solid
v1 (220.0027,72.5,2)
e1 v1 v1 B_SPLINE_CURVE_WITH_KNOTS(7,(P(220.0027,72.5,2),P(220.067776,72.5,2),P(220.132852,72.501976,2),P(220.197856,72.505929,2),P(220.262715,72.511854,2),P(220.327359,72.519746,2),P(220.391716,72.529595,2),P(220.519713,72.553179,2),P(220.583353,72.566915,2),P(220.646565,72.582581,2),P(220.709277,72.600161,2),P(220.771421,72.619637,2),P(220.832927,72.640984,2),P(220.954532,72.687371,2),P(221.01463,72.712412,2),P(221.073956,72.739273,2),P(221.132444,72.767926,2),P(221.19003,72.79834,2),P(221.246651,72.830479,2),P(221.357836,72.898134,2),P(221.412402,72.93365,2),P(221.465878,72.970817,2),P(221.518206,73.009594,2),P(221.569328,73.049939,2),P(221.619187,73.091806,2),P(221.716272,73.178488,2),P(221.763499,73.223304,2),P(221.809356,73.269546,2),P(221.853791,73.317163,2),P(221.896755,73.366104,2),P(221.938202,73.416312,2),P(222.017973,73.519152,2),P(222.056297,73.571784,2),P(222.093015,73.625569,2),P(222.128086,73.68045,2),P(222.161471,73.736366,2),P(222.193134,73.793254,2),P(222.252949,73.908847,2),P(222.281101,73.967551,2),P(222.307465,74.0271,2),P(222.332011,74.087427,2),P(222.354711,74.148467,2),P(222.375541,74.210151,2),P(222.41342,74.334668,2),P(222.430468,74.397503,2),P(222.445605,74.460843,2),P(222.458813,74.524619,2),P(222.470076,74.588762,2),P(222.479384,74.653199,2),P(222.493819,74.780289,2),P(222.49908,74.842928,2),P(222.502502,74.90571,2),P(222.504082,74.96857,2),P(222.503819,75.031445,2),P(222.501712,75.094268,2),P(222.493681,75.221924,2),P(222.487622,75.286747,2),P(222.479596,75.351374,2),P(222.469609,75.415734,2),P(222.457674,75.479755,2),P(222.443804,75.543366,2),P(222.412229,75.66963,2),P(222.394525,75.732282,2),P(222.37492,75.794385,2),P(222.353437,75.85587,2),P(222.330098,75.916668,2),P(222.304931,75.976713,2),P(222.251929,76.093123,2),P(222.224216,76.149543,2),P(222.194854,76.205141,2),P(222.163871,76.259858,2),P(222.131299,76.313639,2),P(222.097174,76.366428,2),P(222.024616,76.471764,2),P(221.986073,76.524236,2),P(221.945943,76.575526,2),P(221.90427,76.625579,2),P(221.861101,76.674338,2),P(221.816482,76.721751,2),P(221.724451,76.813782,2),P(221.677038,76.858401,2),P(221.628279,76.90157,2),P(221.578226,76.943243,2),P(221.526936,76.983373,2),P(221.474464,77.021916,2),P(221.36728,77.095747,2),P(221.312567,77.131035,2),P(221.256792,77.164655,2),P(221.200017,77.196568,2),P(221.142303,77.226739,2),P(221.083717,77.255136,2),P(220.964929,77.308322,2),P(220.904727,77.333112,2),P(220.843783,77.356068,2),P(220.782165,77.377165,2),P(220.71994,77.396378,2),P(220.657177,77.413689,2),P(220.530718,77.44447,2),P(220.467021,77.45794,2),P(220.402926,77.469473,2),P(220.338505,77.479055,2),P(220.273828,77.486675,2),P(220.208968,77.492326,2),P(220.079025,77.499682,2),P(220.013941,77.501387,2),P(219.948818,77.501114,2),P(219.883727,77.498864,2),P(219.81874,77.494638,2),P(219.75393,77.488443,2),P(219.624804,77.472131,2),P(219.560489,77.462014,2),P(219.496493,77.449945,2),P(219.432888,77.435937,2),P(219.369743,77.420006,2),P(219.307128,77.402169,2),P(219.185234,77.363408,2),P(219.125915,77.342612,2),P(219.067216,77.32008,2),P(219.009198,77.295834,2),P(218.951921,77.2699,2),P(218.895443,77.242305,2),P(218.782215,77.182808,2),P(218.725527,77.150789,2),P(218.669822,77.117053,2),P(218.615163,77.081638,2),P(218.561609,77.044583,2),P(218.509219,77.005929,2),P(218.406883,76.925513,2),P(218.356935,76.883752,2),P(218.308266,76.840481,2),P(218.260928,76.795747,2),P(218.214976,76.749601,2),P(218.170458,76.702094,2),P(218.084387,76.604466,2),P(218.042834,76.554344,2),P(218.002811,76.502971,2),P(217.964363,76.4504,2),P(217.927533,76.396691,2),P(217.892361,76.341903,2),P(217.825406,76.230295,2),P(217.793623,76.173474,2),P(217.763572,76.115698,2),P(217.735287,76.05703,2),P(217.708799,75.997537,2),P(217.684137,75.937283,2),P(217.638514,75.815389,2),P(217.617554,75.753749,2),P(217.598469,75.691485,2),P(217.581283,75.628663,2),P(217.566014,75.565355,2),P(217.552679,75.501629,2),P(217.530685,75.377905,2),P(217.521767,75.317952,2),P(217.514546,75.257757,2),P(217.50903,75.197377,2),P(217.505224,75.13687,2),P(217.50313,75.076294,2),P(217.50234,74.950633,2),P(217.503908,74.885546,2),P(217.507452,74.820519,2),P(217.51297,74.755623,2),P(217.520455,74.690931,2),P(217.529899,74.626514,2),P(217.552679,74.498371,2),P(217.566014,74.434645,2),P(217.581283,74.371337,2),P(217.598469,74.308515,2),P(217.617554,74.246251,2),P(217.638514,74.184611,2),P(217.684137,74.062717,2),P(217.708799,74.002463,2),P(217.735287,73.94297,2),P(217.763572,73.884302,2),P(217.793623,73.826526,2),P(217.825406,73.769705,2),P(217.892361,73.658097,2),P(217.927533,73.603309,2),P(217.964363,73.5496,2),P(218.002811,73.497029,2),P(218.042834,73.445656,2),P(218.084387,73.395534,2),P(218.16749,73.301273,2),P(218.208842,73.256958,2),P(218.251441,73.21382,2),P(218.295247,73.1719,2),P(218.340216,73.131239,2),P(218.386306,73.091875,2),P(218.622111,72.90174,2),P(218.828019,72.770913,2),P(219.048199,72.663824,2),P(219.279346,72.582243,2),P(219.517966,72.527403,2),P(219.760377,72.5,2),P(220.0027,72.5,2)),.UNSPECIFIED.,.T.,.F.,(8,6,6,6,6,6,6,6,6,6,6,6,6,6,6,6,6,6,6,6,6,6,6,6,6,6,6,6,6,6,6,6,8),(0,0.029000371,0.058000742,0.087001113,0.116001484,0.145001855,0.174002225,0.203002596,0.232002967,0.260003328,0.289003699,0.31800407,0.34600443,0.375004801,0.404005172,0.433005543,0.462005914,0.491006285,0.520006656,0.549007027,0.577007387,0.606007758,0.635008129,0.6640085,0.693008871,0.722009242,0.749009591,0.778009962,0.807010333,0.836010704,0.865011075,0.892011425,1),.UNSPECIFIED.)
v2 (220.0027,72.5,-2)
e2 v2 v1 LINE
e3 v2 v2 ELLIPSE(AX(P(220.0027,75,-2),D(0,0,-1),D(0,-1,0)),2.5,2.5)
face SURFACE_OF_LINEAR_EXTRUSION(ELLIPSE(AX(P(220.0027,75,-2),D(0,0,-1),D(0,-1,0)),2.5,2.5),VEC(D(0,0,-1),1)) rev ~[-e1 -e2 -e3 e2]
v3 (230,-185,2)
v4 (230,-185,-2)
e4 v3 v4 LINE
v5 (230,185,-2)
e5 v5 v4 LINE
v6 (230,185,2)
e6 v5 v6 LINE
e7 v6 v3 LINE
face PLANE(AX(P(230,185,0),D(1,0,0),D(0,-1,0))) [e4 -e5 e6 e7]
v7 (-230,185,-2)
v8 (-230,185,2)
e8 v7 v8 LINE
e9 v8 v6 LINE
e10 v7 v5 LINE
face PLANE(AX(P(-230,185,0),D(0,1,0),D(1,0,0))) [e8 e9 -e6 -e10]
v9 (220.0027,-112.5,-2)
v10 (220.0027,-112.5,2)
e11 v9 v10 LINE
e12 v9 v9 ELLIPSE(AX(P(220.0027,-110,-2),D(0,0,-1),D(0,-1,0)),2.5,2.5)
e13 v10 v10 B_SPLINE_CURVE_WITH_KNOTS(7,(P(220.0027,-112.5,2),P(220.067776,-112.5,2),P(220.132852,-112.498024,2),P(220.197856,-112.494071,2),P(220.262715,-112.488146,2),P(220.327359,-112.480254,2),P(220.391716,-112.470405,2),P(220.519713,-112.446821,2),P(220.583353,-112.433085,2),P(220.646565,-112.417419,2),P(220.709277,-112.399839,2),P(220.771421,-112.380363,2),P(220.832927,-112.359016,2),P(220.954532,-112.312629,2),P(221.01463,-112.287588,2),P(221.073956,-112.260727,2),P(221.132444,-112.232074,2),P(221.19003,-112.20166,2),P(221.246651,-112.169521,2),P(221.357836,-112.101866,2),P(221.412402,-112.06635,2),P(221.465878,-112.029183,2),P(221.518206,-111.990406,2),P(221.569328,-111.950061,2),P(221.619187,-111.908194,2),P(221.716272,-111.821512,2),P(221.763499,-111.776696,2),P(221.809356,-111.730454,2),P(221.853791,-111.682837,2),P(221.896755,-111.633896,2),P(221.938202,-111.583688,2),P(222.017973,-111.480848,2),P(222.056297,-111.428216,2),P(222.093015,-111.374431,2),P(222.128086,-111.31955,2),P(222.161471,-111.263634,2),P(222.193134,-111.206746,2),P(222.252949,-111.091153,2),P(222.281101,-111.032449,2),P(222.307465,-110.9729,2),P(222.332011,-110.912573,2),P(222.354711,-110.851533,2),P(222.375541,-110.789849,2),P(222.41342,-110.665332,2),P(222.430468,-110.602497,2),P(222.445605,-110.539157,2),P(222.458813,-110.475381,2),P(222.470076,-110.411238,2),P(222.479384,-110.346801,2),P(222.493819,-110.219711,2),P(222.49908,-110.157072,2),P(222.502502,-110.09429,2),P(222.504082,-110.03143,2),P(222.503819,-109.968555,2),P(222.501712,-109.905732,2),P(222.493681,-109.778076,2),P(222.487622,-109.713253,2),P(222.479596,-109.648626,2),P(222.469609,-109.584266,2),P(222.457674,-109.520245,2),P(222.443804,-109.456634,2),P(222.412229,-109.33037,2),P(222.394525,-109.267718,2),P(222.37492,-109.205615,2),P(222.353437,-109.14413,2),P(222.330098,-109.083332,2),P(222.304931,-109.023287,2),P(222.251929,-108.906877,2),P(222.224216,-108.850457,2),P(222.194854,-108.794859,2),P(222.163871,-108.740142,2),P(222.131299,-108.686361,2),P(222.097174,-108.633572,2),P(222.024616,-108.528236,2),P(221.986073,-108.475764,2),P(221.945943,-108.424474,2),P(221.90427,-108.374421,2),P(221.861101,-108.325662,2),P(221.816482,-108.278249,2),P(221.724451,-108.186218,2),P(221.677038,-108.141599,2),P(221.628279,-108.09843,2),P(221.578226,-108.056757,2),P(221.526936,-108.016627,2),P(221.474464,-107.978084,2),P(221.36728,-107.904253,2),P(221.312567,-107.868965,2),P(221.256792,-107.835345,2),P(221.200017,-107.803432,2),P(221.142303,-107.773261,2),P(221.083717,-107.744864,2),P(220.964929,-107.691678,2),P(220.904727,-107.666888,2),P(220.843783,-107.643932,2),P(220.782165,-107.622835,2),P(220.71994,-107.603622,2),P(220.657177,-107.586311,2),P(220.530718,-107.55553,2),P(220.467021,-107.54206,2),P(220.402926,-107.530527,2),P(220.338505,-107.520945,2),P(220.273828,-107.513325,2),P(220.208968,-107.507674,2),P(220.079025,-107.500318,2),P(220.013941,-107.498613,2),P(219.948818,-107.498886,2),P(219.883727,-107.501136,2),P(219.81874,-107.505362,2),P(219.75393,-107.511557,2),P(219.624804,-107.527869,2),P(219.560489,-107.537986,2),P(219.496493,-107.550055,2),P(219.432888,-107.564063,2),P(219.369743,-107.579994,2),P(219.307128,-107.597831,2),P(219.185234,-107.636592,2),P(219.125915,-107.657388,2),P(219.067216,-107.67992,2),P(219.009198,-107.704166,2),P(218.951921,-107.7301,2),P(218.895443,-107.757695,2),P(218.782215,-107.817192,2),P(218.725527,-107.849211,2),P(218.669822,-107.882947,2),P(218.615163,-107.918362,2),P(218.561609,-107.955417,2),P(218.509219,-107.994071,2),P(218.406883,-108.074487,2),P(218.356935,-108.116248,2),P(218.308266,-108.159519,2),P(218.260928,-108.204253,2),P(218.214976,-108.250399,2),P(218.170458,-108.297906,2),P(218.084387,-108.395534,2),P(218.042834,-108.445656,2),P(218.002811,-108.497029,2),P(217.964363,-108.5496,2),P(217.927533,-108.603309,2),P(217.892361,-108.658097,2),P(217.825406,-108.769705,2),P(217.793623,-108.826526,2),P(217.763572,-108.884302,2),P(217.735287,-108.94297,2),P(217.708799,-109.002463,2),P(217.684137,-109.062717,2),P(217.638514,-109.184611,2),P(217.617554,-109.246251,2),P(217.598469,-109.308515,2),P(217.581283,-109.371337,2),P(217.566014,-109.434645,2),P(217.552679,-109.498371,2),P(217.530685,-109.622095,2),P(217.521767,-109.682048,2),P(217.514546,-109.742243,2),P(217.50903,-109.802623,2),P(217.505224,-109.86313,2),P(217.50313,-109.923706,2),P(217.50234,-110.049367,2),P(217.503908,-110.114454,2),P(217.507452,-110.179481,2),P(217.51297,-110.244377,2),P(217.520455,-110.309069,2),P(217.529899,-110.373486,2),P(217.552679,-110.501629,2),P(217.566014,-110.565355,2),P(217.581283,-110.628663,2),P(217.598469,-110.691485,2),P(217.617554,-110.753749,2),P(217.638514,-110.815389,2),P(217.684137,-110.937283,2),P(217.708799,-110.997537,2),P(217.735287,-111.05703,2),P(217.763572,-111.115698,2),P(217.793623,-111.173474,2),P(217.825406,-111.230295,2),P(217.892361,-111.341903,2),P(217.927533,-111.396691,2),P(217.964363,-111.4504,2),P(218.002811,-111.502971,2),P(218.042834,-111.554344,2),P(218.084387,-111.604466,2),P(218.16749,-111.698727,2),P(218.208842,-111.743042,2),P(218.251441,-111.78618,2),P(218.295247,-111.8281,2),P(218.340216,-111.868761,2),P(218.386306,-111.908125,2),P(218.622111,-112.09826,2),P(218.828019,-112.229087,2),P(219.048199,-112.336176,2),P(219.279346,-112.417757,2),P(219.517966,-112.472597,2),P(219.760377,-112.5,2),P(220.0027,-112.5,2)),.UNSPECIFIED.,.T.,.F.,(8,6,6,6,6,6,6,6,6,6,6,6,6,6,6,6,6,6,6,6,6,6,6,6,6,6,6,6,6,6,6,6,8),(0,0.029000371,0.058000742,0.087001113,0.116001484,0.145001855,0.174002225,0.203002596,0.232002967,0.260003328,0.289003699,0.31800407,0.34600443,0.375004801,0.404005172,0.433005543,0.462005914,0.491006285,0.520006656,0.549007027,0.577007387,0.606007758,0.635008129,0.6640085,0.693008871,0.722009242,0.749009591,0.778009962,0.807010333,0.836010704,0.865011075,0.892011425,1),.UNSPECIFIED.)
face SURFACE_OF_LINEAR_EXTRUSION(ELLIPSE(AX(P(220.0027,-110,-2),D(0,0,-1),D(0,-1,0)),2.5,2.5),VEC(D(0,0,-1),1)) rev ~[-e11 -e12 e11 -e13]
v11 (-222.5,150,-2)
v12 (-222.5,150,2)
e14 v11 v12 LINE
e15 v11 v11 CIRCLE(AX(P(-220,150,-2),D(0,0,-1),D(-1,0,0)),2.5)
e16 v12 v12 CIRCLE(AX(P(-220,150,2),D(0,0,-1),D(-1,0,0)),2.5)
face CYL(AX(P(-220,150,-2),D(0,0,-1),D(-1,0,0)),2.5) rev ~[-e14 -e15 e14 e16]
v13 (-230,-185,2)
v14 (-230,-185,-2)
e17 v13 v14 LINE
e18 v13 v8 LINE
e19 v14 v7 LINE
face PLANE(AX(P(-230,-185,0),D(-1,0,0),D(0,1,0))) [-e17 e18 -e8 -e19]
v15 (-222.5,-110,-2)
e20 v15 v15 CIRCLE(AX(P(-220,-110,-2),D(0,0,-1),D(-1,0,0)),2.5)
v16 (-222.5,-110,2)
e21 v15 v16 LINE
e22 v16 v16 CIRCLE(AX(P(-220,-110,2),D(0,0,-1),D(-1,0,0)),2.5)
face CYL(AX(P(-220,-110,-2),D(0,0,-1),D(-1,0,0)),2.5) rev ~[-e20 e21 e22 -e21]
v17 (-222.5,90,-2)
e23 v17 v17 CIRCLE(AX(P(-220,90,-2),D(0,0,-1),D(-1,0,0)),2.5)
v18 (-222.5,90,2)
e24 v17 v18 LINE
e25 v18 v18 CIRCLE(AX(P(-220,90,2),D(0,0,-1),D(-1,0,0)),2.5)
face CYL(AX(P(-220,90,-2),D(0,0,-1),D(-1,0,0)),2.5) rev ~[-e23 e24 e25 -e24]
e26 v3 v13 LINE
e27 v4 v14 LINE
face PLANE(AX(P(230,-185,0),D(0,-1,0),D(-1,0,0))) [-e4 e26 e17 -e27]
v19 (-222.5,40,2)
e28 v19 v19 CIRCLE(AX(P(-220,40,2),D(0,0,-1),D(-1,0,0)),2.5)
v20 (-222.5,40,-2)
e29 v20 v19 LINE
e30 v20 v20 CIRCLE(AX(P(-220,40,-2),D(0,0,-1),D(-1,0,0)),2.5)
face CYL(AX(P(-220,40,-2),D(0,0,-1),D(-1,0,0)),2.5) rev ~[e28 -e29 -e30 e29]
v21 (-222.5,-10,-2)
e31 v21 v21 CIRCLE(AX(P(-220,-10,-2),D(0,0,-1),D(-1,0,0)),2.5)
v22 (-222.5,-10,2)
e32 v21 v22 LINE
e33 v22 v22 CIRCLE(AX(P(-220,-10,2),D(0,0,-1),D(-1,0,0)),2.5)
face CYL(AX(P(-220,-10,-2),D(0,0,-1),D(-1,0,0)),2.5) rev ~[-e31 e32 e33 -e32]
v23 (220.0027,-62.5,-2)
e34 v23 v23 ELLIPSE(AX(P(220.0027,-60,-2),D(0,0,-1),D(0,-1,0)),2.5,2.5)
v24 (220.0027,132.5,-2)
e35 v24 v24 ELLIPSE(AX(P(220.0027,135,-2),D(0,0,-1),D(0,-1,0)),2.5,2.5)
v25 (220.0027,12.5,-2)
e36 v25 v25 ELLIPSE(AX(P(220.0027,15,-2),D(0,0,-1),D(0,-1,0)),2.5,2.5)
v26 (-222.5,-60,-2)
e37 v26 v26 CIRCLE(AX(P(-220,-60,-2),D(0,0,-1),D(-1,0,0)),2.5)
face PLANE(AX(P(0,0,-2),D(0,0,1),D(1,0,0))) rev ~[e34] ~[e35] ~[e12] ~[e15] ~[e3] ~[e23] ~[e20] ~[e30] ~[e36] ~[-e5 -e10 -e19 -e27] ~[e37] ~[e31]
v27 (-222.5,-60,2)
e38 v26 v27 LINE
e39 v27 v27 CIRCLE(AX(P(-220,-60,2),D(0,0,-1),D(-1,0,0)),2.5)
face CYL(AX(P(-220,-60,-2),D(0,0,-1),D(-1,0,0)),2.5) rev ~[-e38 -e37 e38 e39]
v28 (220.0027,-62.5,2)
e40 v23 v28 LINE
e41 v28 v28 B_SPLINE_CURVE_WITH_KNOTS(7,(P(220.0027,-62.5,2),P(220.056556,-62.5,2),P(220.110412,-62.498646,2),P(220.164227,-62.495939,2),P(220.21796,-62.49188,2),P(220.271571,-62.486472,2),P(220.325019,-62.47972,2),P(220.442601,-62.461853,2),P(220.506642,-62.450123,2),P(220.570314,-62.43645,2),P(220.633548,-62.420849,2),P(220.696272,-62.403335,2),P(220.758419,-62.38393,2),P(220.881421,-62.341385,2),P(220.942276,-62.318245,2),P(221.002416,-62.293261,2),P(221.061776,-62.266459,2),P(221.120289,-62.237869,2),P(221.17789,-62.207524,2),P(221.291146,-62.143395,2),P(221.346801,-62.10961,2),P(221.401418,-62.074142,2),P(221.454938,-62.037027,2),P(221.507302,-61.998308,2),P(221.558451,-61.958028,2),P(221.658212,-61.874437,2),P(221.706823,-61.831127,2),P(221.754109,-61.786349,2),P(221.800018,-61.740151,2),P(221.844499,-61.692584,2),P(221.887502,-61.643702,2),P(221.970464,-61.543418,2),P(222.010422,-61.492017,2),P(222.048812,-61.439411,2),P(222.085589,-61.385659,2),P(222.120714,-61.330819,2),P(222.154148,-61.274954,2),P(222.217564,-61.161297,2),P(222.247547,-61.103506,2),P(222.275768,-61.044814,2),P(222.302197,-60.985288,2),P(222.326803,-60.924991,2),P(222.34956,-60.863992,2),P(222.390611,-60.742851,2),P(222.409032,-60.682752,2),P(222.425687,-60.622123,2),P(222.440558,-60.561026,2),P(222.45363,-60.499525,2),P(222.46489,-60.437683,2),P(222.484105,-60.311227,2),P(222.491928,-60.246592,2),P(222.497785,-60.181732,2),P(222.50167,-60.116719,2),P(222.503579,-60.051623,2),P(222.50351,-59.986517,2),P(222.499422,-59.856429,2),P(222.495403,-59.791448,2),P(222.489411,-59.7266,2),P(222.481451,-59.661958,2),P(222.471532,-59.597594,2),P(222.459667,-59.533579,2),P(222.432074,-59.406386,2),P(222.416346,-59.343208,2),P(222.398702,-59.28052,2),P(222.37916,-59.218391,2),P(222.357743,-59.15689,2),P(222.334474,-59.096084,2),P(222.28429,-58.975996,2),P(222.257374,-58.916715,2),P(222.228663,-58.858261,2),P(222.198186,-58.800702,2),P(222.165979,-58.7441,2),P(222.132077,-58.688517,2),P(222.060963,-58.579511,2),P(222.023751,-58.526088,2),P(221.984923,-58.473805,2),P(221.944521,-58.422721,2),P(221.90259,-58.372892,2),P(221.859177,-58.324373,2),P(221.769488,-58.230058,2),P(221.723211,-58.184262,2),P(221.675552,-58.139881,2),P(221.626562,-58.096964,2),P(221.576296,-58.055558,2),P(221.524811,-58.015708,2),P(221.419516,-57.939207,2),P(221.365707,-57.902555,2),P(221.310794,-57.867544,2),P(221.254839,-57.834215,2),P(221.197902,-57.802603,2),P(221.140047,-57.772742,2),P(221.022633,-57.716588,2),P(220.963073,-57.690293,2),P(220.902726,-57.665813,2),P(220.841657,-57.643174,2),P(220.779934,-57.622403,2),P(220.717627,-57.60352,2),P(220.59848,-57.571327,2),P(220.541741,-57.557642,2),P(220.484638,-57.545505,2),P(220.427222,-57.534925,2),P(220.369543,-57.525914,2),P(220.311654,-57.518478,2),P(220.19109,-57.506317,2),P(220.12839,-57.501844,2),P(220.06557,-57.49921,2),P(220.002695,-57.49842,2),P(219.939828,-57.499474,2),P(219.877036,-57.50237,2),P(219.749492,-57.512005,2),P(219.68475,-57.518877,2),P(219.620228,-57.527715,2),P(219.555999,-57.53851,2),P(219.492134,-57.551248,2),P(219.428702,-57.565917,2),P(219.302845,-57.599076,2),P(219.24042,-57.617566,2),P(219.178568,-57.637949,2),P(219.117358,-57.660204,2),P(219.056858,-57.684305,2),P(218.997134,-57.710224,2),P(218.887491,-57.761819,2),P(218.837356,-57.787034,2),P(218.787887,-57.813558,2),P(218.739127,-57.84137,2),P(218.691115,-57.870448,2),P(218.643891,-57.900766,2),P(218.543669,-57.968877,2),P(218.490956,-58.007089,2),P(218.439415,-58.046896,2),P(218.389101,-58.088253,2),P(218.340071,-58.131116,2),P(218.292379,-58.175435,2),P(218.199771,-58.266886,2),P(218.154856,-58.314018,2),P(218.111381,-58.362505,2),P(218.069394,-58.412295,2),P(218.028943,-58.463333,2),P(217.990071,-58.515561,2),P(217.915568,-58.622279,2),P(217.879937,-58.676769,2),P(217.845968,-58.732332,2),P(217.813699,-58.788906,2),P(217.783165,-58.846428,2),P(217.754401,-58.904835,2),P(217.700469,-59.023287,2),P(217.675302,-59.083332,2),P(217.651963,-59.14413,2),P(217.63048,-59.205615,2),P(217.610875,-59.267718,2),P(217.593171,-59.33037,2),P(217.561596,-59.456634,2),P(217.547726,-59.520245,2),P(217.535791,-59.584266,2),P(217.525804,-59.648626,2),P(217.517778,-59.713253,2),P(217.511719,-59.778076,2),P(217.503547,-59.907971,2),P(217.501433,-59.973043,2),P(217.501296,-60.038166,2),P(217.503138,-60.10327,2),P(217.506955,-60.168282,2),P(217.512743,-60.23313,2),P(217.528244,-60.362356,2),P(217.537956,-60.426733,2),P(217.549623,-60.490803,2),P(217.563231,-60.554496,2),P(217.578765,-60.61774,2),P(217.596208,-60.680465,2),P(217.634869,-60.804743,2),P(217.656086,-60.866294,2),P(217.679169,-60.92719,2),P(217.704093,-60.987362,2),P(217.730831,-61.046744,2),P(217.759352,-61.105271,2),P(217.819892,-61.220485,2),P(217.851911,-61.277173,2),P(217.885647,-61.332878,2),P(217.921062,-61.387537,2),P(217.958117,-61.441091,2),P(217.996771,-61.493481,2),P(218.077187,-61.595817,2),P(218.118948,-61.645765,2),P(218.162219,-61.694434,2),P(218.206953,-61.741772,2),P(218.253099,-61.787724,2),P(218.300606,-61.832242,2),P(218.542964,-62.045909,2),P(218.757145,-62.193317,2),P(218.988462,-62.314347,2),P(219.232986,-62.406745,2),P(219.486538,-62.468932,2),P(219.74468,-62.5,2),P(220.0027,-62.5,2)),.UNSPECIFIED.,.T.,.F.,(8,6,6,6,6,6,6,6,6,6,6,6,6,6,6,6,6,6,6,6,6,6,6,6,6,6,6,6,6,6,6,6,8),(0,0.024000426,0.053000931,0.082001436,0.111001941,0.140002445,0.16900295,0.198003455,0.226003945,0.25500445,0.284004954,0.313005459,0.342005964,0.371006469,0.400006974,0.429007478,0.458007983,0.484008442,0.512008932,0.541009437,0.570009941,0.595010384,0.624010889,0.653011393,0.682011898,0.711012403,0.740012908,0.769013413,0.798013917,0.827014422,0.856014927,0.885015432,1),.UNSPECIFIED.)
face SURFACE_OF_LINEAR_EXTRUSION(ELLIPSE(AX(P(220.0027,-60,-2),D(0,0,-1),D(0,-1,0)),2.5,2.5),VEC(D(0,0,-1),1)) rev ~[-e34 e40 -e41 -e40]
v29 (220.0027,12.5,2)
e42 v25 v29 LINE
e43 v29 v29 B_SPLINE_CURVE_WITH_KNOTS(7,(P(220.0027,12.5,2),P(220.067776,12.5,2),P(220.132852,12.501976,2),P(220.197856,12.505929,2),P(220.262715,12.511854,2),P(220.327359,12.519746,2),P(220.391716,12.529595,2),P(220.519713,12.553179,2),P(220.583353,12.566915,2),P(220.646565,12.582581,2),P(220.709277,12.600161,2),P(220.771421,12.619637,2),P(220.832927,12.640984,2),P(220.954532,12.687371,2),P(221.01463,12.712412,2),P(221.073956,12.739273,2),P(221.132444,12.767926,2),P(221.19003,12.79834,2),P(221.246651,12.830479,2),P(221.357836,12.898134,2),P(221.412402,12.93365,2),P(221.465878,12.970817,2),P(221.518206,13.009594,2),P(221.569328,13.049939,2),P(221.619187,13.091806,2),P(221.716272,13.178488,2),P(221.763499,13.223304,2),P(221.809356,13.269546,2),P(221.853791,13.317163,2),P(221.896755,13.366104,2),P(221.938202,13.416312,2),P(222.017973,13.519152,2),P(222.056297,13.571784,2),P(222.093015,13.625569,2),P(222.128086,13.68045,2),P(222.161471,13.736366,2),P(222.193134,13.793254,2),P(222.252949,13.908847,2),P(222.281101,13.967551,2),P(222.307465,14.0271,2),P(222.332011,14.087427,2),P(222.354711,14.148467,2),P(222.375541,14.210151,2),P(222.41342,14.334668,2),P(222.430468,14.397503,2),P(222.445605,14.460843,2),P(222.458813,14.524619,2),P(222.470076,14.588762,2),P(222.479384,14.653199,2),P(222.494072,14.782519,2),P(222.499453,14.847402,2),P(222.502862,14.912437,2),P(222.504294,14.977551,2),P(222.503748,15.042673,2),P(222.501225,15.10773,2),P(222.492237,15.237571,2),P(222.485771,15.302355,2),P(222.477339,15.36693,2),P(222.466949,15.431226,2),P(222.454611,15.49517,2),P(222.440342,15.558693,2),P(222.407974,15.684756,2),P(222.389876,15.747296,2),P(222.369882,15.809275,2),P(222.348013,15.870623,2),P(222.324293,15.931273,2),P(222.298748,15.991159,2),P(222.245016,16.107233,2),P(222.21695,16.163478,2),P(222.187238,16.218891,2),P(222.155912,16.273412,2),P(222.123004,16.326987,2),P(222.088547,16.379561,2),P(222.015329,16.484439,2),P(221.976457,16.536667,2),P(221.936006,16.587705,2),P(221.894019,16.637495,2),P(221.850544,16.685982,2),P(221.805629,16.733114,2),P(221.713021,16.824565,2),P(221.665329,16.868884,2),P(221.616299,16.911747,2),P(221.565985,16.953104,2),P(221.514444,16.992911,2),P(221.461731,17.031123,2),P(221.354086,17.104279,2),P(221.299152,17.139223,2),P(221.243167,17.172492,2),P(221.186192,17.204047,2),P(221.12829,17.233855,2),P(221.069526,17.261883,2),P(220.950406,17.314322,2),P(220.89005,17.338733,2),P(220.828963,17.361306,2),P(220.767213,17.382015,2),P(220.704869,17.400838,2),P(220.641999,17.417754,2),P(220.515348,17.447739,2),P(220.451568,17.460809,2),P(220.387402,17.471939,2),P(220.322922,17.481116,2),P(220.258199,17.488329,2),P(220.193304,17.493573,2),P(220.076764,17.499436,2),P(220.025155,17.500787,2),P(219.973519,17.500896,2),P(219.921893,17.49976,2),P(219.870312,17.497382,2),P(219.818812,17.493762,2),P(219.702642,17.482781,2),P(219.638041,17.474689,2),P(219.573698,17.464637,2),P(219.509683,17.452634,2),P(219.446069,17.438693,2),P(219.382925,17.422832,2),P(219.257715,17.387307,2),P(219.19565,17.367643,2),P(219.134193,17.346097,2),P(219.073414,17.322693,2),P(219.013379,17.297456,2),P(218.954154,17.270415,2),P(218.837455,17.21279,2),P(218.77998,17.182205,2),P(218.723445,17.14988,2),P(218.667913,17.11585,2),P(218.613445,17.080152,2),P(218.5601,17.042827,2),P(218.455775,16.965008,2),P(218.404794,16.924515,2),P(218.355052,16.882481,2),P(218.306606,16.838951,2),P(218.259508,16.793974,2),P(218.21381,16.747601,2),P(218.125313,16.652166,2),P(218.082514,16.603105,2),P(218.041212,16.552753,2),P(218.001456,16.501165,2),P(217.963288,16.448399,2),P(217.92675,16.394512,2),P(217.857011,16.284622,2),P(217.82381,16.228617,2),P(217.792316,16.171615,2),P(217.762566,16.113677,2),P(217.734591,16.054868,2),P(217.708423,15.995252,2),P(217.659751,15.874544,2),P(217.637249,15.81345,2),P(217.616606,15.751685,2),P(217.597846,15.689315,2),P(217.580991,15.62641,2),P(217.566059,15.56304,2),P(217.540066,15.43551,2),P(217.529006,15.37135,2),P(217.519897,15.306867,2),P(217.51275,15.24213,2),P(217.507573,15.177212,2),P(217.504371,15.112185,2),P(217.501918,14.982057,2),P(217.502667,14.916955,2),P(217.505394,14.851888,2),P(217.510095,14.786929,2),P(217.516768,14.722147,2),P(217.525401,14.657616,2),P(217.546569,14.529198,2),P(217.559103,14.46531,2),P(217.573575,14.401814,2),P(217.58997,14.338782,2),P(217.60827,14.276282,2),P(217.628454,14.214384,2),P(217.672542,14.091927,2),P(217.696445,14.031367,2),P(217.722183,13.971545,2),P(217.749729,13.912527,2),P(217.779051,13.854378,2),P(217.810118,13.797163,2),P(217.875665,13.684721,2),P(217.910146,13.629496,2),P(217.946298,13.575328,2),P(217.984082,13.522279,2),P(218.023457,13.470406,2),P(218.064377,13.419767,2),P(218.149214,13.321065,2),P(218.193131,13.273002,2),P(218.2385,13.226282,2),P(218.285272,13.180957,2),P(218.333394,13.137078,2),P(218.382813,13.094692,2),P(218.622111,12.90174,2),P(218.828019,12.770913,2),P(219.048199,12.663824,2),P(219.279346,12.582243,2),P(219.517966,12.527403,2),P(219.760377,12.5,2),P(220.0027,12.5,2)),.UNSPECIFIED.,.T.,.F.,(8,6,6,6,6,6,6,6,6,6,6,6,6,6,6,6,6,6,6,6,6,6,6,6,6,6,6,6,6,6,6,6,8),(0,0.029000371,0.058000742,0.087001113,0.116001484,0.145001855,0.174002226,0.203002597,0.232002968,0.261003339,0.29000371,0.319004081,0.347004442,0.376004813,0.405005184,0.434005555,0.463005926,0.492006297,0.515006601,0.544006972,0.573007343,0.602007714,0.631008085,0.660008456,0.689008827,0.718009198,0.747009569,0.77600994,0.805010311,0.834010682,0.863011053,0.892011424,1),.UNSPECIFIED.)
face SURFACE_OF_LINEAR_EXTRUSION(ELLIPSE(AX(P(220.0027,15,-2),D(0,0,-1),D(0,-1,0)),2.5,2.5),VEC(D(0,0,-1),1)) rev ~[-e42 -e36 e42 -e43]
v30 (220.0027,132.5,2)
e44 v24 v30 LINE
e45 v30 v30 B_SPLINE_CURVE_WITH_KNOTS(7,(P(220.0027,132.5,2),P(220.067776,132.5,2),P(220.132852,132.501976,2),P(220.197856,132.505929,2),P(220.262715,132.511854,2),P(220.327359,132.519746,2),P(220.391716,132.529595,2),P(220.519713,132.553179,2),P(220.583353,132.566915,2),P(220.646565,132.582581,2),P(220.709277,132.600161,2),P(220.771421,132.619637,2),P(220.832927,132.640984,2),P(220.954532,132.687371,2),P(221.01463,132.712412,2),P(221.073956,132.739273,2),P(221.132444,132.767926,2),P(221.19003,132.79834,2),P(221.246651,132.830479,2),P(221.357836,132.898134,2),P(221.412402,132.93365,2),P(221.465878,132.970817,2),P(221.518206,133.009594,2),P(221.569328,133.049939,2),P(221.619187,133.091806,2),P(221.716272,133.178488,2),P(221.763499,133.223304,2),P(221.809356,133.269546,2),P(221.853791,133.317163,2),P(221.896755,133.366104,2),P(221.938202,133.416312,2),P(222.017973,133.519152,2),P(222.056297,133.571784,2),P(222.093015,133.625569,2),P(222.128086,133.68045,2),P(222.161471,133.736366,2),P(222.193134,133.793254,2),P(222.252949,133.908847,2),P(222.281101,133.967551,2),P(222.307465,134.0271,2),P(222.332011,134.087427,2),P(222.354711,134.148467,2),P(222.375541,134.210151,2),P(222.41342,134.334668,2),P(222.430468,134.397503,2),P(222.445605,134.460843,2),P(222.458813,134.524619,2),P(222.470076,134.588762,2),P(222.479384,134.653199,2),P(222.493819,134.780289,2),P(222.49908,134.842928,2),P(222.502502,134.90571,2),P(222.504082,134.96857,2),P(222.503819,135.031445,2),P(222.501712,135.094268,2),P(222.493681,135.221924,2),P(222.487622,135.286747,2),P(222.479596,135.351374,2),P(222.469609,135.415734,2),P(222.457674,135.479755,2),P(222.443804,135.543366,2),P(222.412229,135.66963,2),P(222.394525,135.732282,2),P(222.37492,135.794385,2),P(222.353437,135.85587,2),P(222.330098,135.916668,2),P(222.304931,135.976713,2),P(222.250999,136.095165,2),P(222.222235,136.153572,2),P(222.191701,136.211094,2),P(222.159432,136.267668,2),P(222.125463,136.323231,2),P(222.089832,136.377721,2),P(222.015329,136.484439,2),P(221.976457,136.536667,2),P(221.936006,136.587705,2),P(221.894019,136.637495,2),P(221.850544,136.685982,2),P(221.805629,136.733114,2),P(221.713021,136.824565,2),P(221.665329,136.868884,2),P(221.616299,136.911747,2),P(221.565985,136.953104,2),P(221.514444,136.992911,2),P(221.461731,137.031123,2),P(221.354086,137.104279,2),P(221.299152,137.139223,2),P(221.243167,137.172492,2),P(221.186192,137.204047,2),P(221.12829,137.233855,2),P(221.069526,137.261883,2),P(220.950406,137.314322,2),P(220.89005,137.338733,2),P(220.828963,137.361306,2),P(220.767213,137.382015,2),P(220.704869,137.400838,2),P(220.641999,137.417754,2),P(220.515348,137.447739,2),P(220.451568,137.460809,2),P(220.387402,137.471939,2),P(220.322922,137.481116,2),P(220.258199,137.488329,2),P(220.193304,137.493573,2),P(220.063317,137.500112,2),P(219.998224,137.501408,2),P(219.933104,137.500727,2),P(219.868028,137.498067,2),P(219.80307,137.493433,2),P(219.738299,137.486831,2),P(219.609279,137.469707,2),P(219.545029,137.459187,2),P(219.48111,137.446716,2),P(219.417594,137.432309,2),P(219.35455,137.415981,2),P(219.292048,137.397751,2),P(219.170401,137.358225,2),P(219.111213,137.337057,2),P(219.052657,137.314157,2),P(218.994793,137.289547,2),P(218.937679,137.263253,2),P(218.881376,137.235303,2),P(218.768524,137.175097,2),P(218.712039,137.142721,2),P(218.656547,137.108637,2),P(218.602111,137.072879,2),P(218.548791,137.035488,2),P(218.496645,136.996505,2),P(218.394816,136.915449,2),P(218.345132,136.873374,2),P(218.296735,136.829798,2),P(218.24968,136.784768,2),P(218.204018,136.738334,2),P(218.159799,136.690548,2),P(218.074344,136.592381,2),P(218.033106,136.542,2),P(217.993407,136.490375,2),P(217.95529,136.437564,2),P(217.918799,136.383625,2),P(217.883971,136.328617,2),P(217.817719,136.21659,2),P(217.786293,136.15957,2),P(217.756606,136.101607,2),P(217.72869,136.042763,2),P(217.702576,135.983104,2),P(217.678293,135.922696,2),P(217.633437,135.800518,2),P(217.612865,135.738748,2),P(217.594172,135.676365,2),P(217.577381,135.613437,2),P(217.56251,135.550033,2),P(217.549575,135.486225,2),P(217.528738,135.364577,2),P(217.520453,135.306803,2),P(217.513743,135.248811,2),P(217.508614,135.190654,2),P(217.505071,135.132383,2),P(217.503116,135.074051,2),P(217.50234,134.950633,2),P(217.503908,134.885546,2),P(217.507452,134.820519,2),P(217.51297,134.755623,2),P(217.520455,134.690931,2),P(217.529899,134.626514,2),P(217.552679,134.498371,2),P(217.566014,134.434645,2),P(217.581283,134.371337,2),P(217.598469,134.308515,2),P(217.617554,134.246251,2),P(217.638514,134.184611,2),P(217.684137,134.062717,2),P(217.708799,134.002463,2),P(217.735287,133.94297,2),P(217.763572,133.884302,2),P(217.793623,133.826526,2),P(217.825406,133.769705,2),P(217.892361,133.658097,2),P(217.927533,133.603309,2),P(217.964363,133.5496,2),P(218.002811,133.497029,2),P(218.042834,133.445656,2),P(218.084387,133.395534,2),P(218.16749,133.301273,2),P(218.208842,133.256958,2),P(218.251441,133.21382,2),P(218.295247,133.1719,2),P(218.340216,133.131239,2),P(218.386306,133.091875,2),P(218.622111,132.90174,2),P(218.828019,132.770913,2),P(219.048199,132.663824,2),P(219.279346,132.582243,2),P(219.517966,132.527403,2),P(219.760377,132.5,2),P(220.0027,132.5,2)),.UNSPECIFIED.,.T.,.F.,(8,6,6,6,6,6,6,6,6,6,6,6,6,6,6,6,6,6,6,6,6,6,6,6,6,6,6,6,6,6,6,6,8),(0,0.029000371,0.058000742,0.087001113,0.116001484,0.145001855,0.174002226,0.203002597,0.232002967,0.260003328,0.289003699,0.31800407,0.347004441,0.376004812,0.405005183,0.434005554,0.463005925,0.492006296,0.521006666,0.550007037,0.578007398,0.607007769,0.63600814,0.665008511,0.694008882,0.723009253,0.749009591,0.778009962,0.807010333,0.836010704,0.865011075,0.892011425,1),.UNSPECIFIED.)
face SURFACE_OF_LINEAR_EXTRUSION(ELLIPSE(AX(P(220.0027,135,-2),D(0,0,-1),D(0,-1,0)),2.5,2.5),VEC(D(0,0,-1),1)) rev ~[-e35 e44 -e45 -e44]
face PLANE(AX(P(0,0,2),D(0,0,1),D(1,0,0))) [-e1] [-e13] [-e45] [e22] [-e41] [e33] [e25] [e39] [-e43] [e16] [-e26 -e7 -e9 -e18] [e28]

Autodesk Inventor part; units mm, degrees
ref_plane "YZ Plane" through (0, 0, 0) normal (1, 0, 0) x (0, 1, 0)
ref_plane "XZ Plane" through (0, 0, 0) normal (0, 1, 0) x (-1, 0, 0)
ref_plane "XY Plane" through (0, 0, 0) normal (0, 0, 1) x (1, 0, 0)
sketch "Эскиз1" plane through (0, 0, 0) normal (0, 0, 1) x (1, 0, 0)
  line L0 (230, 185) -> (230, -185)
  line L1 (230, -185) -> (-230, -185)
  line L2 (-230, -185) -> (-230, 185)
  line L3 (-230, 185) -> (230, -185) construction
  line L4 (230, 185) -> (-230, -185) construction
  line L5 (-322, 0) -> (322, 0) construction
  line L6 (0, 259) -> (0, -259) construction
  line L7 (-230, 185) -> (230, 185)
  point P0 (0, 0)
  dimension "d2" = 370
  dimension "d4" = 460
extrude "Выдавливание1" add sketch "Эскиз1" along normal mid plane 4
sketch "Эскиз3" plane through (0, 0, -2) normal (0, 0, -1) x (-1, 0, 0)
  circle A0 centre (220, 150) radius 2.5
  circle A1 centre (220, 90) radius 2.5
  circle A2 centre (220, 40) radius 2.5
  circle A3 centre (220, -10) radius 2.5
  circle A4 centre (220, -60) radius 2.5
  circle A5 centre (220, -110) radius 2.5
  ellipse E0 centre (-220.0027, 135) end of major axis (-220.0027, 132.5) minor radius 2.5
  ellipse E1 centre (-220.0027, 75) end of major axis (-220.0027, 72.5) minor radius 2.5
  ellipse E2 centre (-220.0027, 15) end of major axis (-220.0027, 12.5) minor radius 2.5
  ellipse E3 centre (-220.0027, -60) end of major axis (-220.0027, -62.5) minor radius 2.5
  ellipse E4 centre (-220.0027, -110) end of major axis (-220.0027, -112.5) minor radius 2.5
  point P0 (0, 0)
extrude "Выдавливание3" cut sketch "Эскиз3" against normal up to next
properties part number "Боковая часть корпуса"
